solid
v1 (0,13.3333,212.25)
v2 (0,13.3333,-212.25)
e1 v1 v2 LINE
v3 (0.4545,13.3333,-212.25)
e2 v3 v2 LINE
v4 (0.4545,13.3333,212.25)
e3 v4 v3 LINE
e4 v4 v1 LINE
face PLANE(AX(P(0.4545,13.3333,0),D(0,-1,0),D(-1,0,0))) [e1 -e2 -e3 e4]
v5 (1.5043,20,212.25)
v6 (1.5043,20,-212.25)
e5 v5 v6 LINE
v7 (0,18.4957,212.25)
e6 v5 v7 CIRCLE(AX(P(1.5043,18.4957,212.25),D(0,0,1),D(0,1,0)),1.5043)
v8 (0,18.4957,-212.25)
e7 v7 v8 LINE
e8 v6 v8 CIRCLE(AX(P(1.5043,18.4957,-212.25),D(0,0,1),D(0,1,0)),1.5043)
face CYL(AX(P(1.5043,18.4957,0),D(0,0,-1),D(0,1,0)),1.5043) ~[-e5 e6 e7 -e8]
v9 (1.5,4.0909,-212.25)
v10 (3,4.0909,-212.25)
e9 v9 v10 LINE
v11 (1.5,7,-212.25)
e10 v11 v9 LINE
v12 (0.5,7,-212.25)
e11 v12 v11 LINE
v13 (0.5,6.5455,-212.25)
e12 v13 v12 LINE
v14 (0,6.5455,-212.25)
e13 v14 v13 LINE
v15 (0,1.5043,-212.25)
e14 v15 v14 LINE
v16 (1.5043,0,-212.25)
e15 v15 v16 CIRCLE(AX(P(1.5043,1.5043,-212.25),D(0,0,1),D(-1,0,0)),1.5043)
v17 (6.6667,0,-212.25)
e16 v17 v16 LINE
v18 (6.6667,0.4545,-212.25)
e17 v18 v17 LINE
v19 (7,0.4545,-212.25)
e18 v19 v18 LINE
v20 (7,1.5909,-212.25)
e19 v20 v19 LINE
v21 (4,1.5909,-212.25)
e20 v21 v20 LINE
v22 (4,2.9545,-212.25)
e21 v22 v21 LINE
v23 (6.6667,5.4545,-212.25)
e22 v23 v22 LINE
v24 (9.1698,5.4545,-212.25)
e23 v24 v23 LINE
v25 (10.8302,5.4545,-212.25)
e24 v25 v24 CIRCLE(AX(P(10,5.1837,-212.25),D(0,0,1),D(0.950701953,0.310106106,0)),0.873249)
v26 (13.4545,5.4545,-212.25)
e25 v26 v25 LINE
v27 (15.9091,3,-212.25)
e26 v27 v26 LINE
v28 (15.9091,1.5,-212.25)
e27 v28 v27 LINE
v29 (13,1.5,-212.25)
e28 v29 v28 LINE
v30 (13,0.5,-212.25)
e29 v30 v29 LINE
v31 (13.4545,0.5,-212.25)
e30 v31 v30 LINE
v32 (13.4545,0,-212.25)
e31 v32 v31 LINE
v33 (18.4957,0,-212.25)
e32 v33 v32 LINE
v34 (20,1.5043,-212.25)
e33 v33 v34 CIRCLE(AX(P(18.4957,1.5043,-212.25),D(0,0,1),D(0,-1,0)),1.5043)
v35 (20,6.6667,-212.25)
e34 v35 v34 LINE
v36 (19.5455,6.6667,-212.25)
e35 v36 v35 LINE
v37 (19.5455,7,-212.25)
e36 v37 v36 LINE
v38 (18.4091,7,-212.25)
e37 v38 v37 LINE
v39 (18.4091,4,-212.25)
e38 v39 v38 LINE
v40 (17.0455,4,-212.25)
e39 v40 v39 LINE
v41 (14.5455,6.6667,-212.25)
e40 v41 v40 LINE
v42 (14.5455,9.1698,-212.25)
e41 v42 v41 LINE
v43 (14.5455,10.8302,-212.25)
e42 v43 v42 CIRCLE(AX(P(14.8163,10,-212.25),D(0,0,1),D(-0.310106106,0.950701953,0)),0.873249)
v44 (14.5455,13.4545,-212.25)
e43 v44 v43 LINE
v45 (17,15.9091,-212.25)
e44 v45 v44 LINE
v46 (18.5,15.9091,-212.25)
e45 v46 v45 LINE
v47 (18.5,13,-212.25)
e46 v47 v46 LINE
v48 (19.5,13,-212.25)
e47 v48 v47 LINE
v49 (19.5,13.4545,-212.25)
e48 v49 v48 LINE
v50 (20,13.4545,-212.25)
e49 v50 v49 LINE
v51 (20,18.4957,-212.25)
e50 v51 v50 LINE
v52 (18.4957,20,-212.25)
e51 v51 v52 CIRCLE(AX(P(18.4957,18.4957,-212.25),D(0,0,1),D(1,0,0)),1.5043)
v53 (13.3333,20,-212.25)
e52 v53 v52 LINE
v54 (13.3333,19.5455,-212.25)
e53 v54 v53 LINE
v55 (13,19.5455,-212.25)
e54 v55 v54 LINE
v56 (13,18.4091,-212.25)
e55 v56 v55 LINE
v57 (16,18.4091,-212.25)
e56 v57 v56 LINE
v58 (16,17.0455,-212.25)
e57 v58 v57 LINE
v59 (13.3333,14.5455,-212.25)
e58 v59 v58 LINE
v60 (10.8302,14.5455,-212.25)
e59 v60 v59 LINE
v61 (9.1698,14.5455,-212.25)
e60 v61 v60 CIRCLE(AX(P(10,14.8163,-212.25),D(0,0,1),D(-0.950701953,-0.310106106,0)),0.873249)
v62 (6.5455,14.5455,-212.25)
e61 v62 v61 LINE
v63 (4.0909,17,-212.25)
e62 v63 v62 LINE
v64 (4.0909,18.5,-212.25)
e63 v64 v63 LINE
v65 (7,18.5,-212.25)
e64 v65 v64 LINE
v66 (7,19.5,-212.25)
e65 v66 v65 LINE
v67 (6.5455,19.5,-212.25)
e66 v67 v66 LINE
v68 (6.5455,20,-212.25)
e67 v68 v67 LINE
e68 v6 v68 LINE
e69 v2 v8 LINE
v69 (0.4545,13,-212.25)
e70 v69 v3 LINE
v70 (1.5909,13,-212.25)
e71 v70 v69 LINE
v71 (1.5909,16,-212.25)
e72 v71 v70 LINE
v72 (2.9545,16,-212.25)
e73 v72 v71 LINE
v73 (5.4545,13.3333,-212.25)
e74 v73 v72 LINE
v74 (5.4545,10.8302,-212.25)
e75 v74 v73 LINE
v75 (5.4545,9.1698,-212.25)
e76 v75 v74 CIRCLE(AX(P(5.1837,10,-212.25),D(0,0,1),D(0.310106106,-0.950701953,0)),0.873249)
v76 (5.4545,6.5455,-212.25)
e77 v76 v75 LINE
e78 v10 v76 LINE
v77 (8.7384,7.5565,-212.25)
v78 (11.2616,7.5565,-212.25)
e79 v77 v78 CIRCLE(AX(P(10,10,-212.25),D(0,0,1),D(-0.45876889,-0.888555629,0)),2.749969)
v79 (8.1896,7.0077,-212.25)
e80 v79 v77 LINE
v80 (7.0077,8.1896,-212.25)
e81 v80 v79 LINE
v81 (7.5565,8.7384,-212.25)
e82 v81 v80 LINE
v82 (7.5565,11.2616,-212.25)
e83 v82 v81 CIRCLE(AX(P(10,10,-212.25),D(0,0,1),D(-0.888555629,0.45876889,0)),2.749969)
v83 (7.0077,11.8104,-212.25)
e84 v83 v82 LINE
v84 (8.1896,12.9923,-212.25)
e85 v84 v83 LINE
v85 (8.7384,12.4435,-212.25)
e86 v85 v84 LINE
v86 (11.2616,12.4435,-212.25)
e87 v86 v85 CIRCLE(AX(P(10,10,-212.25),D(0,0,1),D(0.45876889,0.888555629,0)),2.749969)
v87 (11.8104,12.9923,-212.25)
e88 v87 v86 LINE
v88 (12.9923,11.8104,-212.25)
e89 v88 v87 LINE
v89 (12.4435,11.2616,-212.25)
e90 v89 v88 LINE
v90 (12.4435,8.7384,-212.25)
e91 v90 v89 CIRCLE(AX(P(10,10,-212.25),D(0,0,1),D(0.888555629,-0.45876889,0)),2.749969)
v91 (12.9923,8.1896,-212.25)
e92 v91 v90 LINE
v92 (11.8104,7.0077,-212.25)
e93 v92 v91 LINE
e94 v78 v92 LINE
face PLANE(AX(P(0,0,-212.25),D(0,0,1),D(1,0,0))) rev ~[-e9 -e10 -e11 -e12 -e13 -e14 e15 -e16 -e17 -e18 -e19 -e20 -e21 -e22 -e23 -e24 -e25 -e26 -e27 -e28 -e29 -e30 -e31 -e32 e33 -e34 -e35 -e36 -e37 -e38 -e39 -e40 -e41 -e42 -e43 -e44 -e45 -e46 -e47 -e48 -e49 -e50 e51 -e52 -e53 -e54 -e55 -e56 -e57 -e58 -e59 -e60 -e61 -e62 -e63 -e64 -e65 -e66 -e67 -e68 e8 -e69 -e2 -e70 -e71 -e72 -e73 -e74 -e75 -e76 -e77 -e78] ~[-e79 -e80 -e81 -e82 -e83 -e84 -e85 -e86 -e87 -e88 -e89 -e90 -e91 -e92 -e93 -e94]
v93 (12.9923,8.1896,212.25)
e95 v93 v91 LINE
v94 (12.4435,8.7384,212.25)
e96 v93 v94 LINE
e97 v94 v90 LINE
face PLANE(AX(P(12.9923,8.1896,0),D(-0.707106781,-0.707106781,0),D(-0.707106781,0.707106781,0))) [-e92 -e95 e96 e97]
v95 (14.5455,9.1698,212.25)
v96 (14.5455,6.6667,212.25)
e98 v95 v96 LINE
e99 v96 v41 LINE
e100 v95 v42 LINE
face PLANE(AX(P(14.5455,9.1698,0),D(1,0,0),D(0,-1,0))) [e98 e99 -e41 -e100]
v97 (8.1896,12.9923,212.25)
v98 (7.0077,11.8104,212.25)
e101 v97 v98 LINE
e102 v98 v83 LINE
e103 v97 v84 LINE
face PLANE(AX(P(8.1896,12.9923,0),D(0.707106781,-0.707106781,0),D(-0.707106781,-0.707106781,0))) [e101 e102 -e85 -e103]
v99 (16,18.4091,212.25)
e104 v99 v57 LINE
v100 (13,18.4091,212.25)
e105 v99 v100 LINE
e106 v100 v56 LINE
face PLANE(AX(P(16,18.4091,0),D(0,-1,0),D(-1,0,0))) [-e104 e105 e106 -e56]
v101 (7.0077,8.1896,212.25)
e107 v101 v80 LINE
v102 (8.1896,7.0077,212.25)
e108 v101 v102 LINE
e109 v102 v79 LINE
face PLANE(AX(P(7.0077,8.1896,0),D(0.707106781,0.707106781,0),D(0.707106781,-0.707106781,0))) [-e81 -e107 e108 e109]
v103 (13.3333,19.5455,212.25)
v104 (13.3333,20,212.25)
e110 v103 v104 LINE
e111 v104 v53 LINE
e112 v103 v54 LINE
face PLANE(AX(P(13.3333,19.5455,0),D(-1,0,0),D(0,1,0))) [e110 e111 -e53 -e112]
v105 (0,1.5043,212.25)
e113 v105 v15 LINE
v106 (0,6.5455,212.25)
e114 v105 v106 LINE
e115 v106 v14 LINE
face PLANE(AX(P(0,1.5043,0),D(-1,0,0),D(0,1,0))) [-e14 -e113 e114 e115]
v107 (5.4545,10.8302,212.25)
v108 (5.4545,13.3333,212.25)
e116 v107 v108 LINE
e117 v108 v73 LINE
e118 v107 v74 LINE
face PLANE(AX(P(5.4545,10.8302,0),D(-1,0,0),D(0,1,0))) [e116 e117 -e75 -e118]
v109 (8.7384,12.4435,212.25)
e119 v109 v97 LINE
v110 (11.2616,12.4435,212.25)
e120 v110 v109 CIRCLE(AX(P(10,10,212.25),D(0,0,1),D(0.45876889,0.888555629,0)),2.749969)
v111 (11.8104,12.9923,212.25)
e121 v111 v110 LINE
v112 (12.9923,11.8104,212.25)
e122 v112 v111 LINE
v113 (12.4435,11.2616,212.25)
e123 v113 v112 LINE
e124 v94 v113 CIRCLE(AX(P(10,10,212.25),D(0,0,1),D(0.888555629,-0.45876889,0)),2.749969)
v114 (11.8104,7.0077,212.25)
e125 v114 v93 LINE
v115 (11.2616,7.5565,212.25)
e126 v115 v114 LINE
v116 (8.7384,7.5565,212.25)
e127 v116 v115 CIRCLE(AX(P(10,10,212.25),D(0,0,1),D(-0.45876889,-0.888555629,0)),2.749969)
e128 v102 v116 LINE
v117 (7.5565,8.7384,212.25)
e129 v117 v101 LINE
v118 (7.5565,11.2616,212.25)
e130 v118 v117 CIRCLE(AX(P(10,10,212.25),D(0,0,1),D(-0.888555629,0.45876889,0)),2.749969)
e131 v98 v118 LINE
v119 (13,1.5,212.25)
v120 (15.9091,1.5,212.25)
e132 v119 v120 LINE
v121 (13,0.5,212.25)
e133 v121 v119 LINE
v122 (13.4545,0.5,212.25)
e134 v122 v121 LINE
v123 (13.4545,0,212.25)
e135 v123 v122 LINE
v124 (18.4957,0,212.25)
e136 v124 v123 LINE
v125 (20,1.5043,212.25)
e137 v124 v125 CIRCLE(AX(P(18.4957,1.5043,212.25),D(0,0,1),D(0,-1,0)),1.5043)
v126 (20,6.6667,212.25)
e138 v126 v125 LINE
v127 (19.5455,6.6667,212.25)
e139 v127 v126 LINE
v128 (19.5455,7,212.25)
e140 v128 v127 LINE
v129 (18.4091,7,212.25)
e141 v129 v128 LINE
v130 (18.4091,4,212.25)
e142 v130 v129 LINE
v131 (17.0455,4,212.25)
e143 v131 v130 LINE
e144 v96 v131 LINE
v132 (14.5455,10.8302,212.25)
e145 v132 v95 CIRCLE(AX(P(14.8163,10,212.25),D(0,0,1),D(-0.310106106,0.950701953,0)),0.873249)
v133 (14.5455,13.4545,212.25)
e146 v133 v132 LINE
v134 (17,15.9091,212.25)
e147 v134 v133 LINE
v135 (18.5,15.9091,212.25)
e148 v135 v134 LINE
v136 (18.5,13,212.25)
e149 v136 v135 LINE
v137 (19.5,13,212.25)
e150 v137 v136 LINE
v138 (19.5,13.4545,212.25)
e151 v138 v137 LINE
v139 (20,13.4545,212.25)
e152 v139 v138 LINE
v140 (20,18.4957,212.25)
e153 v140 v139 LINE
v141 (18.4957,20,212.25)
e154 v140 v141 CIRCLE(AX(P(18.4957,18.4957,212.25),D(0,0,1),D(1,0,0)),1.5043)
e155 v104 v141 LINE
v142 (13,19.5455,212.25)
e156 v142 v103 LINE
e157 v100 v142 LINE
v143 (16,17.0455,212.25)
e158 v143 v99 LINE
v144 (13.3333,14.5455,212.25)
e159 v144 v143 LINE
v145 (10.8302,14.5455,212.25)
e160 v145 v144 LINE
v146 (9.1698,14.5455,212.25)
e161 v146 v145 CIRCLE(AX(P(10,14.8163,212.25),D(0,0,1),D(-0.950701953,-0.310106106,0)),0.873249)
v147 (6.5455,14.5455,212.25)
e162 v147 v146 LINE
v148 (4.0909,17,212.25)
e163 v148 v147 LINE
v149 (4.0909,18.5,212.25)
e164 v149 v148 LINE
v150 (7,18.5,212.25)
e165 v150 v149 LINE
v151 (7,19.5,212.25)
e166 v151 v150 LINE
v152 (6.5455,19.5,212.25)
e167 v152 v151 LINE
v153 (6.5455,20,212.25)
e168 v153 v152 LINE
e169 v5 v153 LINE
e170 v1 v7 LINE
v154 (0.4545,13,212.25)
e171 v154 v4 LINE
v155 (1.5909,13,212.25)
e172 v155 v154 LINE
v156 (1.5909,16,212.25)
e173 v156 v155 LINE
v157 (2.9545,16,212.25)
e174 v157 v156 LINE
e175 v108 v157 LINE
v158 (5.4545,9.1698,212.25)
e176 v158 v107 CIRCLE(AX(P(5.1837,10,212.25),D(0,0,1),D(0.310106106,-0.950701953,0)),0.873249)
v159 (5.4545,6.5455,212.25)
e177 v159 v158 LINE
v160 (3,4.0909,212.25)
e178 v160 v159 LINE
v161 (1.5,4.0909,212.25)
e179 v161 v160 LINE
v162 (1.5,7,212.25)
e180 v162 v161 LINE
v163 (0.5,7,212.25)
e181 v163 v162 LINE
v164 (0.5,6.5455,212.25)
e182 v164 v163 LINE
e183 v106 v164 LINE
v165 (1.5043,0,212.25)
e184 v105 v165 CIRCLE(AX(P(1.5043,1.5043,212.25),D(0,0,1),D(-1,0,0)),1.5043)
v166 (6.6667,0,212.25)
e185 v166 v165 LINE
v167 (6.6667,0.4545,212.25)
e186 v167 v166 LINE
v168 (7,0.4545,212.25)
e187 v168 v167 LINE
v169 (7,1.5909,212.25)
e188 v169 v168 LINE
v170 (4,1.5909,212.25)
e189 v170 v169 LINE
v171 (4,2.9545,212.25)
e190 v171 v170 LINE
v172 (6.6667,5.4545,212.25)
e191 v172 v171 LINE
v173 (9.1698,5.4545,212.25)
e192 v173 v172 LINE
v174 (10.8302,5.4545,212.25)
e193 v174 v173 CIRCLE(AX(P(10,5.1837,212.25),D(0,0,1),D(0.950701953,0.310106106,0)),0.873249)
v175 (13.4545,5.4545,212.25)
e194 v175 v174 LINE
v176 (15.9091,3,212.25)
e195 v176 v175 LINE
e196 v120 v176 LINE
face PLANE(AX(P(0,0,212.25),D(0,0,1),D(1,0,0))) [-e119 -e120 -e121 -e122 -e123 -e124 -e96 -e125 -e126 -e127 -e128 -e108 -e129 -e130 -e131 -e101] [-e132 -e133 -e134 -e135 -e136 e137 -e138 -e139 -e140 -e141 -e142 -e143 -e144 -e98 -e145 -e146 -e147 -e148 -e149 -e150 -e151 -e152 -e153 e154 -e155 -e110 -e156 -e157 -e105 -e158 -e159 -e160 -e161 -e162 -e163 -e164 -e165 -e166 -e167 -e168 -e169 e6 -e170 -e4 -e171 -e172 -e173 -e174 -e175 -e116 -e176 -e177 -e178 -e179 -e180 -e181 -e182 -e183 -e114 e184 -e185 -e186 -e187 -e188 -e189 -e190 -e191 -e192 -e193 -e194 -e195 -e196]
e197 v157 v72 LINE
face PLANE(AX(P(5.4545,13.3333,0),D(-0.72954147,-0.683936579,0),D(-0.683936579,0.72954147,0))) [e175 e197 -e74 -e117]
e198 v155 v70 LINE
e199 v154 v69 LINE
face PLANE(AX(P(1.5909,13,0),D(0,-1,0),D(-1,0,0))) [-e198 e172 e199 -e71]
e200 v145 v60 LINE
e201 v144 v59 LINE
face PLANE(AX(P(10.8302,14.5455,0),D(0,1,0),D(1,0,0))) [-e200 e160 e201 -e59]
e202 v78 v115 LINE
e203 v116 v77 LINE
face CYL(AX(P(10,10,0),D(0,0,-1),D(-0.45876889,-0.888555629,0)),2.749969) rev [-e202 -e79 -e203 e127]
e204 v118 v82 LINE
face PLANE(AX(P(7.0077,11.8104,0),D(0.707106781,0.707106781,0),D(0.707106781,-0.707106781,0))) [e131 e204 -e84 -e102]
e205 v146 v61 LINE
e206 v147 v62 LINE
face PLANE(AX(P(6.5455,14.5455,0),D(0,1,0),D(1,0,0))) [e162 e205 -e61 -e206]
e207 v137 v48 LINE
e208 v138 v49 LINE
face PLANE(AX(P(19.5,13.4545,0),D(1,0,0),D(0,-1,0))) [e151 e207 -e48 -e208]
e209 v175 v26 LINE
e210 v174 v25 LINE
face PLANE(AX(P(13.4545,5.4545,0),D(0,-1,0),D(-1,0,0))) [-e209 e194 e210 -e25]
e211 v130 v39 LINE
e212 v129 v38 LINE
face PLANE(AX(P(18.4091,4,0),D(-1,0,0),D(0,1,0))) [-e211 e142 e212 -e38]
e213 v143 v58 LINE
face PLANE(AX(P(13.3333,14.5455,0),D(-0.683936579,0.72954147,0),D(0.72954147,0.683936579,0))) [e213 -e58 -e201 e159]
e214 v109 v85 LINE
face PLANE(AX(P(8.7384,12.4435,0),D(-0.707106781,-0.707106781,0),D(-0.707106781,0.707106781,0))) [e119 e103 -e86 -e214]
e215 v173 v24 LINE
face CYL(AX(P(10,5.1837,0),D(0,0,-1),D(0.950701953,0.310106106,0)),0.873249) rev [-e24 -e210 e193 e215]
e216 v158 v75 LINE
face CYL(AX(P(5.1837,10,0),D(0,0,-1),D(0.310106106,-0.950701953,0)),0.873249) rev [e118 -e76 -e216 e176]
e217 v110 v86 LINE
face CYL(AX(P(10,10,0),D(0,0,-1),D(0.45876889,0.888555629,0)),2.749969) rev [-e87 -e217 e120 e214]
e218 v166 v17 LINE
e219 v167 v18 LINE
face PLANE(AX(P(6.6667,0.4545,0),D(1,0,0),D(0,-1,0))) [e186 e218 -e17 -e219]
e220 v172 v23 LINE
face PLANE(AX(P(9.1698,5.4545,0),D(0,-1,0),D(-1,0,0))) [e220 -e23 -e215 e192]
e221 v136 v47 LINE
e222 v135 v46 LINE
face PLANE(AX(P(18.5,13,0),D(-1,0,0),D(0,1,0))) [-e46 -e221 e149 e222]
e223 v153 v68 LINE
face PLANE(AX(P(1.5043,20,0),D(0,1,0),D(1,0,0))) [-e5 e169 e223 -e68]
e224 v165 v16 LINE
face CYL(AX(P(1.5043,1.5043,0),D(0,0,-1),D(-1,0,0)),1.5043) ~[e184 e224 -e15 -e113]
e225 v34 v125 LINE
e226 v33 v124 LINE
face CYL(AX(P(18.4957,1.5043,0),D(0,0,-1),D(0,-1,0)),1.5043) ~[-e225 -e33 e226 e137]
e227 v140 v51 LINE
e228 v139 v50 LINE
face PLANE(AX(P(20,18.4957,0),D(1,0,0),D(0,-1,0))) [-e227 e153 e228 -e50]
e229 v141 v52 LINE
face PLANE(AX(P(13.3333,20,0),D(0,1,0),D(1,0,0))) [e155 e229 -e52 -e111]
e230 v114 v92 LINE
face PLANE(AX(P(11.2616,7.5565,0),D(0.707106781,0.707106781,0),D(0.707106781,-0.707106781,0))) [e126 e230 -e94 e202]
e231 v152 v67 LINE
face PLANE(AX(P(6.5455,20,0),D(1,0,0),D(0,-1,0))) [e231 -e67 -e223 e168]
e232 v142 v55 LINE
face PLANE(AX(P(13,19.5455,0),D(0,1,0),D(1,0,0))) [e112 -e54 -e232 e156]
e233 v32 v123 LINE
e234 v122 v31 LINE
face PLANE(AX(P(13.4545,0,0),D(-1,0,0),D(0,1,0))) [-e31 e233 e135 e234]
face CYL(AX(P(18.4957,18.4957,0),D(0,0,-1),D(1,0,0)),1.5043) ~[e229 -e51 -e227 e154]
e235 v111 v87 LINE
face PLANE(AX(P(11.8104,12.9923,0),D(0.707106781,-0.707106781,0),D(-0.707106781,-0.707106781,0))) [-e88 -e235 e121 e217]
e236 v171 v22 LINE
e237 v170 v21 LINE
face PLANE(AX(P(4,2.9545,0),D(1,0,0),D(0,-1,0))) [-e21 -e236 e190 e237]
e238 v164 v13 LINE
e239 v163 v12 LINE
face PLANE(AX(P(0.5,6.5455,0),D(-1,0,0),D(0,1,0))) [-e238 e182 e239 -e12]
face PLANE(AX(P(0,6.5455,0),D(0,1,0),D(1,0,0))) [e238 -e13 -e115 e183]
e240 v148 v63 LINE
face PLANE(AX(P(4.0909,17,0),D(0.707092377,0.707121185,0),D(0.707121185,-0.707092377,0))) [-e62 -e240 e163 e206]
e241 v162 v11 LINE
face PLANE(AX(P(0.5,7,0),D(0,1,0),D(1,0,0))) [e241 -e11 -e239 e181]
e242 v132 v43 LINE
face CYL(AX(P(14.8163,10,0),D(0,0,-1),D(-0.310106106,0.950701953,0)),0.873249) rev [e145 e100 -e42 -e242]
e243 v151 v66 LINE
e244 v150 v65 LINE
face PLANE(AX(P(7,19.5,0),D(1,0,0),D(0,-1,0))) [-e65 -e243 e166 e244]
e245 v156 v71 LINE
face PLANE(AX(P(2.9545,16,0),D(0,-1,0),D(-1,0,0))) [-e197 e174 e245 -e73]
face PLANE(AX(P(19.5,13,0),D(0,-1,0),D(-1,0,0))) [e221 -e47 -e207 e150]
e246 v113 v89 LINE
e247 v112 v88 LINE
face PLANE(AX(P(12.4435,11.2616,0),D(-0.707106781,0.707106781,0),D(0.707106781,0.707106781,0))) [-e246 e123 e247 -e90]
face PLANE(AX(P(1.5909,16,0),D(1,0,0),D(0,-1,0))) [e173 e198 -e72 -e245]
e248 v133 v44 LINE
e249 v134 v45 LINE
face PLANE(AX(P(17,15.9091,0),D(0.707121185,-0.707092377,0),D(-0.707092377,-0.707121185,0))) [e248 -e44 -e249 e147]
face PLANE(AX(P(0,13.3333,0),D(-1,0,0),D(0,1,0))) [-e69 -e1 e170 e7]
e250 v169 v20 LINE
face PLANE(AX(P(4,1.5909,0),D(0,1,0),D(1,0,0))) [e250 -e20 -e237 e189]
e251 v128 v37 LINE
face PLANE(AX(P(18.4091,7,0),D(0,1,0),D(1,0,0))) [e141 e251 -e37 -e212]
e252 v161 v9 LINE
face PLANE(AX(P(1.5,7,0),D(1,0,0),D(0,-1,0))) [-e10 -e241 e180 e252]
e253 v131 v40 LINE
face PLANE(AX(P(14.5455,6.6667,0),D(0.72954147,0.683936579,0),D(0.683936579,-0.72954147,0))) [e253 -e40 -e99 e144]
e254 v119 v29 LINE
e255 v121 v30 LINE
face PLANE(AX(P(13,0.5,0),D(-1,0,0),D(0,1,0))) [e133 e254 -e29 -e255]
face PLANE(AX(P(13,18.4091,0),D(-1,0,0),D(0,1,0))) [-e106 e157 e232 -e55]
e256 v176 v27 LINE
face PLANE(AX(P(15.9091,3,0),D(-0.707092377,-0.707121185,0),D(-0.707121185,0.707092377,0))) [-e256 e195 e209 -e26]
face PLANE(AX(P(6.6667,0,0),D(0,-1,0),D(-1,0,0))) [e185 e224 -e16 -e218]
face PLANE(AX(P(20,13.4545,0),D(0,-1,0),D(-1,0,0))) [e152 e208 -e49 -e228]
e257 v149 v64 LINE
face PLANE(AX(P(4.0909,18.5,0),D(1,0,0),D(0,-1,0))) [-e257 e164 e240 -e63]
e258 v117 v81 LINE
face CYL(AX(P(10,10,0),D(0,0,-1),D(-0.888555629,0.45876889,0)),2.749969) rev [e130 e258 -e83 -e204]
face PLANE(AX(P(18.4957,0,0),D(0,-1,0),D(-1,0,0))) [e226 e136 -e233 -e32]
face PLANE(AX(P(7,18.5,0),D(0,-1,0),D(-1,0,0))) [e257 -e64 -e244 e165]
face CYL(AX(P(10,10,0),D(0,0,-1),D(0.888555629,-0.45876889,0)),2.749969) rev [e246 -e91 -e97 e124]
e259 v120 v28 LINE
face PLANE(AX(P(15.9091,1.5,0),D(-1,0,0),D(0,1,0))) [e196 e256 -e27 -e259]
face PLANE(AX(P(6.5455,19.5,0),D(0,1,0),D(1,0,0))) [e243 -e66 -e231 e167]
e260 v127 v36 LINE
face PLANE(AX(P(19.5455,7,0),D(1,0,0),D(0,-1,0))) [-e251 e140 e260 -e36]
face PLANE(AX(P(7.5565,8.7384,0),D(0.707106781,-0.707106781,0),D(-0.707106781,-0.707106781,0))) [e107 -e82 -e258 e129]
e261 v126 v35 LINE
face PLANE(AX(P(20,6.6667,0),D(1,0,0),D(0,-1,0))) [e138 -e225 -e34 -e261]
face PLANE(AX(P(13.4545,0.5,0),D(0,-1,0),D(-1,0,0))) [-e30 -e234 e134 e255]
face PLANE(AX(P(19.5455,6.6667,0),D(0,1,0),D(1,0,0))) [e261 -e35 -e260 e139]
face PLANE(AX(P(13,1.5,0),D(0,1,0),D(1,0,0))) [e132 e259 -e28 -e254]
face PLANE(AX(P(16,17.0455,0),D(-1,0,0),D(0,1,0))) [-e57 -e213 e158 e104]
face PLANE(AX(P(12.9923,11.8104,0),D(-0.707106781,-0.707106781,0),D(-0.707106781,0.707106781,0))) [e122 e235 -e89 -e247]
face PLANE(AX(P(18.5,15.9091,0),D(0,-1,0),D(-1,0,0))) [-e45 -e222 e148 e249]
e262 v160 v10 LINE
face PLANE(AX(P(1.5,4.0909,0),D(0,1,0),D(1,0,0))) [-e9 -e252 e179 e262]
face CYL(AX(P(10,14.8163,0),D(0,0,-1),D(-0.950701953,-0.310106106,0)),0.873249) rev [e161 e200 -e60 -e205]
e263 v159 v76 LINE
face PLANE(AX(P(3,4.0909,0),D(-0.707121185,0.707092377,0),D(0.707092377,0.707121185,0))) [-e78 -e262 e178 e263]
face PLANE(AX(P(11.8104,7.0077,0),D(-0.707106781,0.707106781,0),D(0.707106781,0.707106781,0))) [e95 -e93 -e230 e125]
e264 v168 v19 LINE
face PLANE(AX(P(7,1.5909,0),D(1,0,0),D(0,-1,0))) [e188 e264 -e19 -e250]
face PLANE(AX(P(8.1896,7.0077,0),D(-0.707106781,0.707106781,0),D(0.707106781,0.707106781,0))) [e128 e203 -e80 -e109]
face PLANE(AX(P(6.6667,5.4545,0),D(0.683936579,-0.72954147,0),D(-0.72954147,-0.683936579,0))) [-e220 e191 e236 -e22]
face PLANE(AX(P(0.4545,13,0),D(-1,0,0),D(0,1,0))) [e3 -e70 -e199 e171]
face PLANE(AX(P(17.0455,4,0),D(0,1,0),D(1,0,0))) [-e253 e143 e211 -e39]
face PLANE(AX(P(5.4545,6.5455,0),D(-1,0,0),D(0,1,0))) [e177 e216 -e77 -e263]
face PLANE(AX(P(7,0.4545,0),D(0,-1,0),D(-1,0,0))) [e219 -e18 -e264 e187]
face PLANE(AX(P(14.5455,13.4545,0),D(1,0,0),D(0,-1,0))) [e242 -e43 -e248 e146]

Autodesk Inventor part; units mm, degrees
ref_plane "YZ Plane" through (0, 0, 0) normal (1, 0, 0) x (0, 1, 0)
ref_plane "XZ Plane" through (0, 0, 0) normal (0, 1, 0) x (-1, 0, 0)
ref_plane "XY Plane" through (0, 0, 0) normal (0, 0, 1) x (1, 0, 0)
sketch "Sketch1" plane through (0, 0, 0) normal (0, 0, 1) x (1, 0, 0)
  line L0 (11.2616, 7.5565) -> (11.8104, 7.0077)
  line L1 (11.8104, 7.0077) -> (12.9923, 8.1896)
  line L2 (12.9923, 8.1896) -> (12.4435, 8.7384)
  arc A0 (12.4435, 8.7384) -> (12.4435, 11.2616) centre (10, 10) ccw
  line L3 (12.4435, 11.2616) -> (12.9923, 11.8104)
  line L4 (12.9923, 11.8104) -> (11.8104, 12.9923)
  line L5 (11.8104, 12.9923) -> (11.2616, 12.4435)
  arc A1 (11.2616, 12.4435) -> (8.7384, 12.4435) centre (10, 10) ccw
  line L6 (8.7384, 12.4435) -> (8.1896, 12.9923)
  line L7 (8.1896, 12.9923) -> (7.0077, 11.8104)
  line L8 (7.0077, 11.8104) -> (7.5565, 11.2616)
  arc A2 (7.5565, 11.2616) -> (7.5565, 8.7384) centre (10, 10) ccw
  line L9 (7.5565, 8.7384) -> (7.0077, 8.1896)
  line L10 (7.0077, 8.1896) -> (8.1896, 7.0077)
  line L11 (8.1896, 7.0077) -> (8.7384, 7.5565)
  arc A3 (8.7384, 7.5565) -> (11.2616, 7.5565) centre (10, 10) ccw
  line L12 (13.4545, 0) -> (13.4545, 0.5)
  line L13 (13.4545, 0.5) -> (13, 0.5)
  line L14 (13, 0.5) -> (13, 1.5)
  line L15 (13, 1.5) -> (15.9091, 1.5)
  line L16 (15.9091, 1.5) -> (15.9091, 3)
  line L17 (15.9091, 3) -> (13.4545, 5.4545)
  line L18 (13.4545, 5.4545) -> (10.8302, 5.4545)
  arc A4 (10.8302, 5.4545) -> (9.1698, 5.4545) centre (10, 5.1837) ccw
  line L19 (9.1698, 5.4545) -> (6.6667, 5.4545)
  line L20 (6.6667, 5.4545) -> (4, 2.9545)
  line L21 (4, 2.9545) -> (4, 1.5909)
  line L22 (4, 1.5909) -> (7, 1.5909)
  line L23 (7, 1.5909) -> (7, 0.4545)
  line L24 (7, 0.4545) -> (6.6667, 0.4545)
  line L25 (6.6667, 0.4545) -> (6.6667, 0)
  line L26 (6.6667, 0) -> (1.5043, 0)
  arc A5 (0, 1.5043) -> (1.5043, 0) centre (1.5043, 1.5043) ccw
  line L27 (0, 1.5043) -> (0, 6.5455)
  line L28 (0, 6.5455) -> (0.5, 6.5455)
  line L29 (0.5, 6.5455) -> (0.5, 7)
  line L30 (0.5, 7) -> (1.5, 7)
  line L31 (1.5, 7) -> (1.5, 4.0909)
  line L32 (1.5, 4.0909) -> (3, 4.0909)
  line L33 (3, 4.0909) -> (5.4545, 6.5455)
  line L34 (5.4545, 6.5455) -> (5.4545, 9.1698)
  arc A6 (5.4545, 9.1698) -> (5.4545, 10.8302) centre (5.1837, 10) ccw
  line L35 (5.4545, 10.8302) -> (5.4545, 13.3333)
  line L36 (5.4545, 13.3333) -> (2.9545, 16)
  line L37 (2.9545, 16) -> (1.5909, 16)
  line L38 (1.5909, 16) -> (1.5909, 13)
  line L39 (1.5909, 13) -> (0.4545, 13)
  line L40 (0.4545, 13) -> (0.4545, 13.3333)
  line L41 (0.4545, 13.3333) -> (0, 13.3333)
  line L42 (0, 13.3333) -> (0, 18.4957)
  arc A7 (1.5043, 20) -> (0, 18.4957) centre (1.5043, 18.4957) ccw
  line L43 (1.5043, 20) -> (6.5455, 20)
  line L44 (6.5455, 20) -> (6.5455, 19.5)
  line L45 (6.5455, 19.5) -> (7, 19.5)
  line L46 (7, 19.5) -> (7, 18.5)
  line L47 (7, 18.5) -> (4.0909, 18.5)
  line L48 (4.0909, 18.5) -> (4.0909, 17)
  line L49 (4.0909, 17) -> (6.5455, 14.5455)
  line L50 (6.5455, 14.5455) -> (9.1698, 14.5455)
  arc A8 (9.1698, 14.5455) -> (10.8302, 14.5455) centre (10, 14.8163) ccw
  line L51 (10.8302, 14.5455) -> (13.3333, 14.5455)
  line L52 (13.3333, 14.5455) -> (16, 17.0455)
  line L53 (16, 17.0455) -> (16, 18.4091)
  line L54 (16, 18.4091) -> (13, 18.4091)
  line L55 (13, 18.4091) -> (13, 19.5455)
  line L56 (13, 19.5455) -> (13.3333, 19.5455)
  line L57 (13.3333, 19.5455) -> (13.3333, 20)
  line L58 (13.3333, 20) -> (18.4957, 20)
  arc A9 (20, 18.4957) -> (18.4957, 20) centre (18.4957, 18.4957) ccw
  line L59 (20, 18.4957) -> (20, 13.4545)
  line L60 (20, 13.4545) -> (19.5, 13.4545)
  line L61 (19.5, 13.4545) -> (19.5, 13)
  line L62 (19.5, 13) -> (18.5, 13)
  line L63 (18.5, 13) -> (18.5, 15.9091)
  line L64 (18.5, 15.9091) -> (17, 15.9091)
  line L65 (17, 15.9091) -> (14.5455, 13.4545)
  line L66 (14.5455, 13.4545) -> (14.5455, 10.8302)
  arc A10 (14.5455, 10.8302) -> (14.5455, 9.1698) centre (14.8163, 10) ccw
  line L67 (14.5455, 9.1698) -> (14.5455, 6.6667)
  line L68 (14.5455, 6.6667) -> (17.0455, 4)
  line L69 (17.0455, 4) -> (18.4091, 4)
  line L70 (18.4091, 4) -> (18.4091, 7)
  line L71 (18.4091, 7) -> (19.5455, 7)
  line L72 (19.5455, 7) -> (19.5455, 6.6667)
  line L73 (19.5455, 6.6667) -> (20, 6.6667)
  line L74 (20, 6.6667) -> (20, 1.5043)
  arc A11 (18.4957, 0) -> (20, 1.5043) centre (18.4957, 1.5043) ccw
  line L75 (18.4957, 0) -> (13.4545, 0)
  point P0 (0, 0)
  point P1 (0.4406, 0.4406)
  point P2 (10, 0)
  point P3 (10, 0)
  point P4 (10, 0)
  point P5 (19.5594, 0.4406)
  point P6 (0, 10)
  point P7 (0, 10)
  point P8 (0, 10)
  point P9 (10, 10)
  point P10 (20, 10)
  point P11 (20, 10)
  point P12 (20, 10)
  point P13 (0.4406, 19.5594)
  point P14 (10, 20)
  point P15 (10, 20)
  point P16 (10, 20)
  point P17 (19.5594, 19.5594)
extrude "Extrusion1" add sketch "Sketch1" along normal mid plane 424.5
properties part number "short side"
